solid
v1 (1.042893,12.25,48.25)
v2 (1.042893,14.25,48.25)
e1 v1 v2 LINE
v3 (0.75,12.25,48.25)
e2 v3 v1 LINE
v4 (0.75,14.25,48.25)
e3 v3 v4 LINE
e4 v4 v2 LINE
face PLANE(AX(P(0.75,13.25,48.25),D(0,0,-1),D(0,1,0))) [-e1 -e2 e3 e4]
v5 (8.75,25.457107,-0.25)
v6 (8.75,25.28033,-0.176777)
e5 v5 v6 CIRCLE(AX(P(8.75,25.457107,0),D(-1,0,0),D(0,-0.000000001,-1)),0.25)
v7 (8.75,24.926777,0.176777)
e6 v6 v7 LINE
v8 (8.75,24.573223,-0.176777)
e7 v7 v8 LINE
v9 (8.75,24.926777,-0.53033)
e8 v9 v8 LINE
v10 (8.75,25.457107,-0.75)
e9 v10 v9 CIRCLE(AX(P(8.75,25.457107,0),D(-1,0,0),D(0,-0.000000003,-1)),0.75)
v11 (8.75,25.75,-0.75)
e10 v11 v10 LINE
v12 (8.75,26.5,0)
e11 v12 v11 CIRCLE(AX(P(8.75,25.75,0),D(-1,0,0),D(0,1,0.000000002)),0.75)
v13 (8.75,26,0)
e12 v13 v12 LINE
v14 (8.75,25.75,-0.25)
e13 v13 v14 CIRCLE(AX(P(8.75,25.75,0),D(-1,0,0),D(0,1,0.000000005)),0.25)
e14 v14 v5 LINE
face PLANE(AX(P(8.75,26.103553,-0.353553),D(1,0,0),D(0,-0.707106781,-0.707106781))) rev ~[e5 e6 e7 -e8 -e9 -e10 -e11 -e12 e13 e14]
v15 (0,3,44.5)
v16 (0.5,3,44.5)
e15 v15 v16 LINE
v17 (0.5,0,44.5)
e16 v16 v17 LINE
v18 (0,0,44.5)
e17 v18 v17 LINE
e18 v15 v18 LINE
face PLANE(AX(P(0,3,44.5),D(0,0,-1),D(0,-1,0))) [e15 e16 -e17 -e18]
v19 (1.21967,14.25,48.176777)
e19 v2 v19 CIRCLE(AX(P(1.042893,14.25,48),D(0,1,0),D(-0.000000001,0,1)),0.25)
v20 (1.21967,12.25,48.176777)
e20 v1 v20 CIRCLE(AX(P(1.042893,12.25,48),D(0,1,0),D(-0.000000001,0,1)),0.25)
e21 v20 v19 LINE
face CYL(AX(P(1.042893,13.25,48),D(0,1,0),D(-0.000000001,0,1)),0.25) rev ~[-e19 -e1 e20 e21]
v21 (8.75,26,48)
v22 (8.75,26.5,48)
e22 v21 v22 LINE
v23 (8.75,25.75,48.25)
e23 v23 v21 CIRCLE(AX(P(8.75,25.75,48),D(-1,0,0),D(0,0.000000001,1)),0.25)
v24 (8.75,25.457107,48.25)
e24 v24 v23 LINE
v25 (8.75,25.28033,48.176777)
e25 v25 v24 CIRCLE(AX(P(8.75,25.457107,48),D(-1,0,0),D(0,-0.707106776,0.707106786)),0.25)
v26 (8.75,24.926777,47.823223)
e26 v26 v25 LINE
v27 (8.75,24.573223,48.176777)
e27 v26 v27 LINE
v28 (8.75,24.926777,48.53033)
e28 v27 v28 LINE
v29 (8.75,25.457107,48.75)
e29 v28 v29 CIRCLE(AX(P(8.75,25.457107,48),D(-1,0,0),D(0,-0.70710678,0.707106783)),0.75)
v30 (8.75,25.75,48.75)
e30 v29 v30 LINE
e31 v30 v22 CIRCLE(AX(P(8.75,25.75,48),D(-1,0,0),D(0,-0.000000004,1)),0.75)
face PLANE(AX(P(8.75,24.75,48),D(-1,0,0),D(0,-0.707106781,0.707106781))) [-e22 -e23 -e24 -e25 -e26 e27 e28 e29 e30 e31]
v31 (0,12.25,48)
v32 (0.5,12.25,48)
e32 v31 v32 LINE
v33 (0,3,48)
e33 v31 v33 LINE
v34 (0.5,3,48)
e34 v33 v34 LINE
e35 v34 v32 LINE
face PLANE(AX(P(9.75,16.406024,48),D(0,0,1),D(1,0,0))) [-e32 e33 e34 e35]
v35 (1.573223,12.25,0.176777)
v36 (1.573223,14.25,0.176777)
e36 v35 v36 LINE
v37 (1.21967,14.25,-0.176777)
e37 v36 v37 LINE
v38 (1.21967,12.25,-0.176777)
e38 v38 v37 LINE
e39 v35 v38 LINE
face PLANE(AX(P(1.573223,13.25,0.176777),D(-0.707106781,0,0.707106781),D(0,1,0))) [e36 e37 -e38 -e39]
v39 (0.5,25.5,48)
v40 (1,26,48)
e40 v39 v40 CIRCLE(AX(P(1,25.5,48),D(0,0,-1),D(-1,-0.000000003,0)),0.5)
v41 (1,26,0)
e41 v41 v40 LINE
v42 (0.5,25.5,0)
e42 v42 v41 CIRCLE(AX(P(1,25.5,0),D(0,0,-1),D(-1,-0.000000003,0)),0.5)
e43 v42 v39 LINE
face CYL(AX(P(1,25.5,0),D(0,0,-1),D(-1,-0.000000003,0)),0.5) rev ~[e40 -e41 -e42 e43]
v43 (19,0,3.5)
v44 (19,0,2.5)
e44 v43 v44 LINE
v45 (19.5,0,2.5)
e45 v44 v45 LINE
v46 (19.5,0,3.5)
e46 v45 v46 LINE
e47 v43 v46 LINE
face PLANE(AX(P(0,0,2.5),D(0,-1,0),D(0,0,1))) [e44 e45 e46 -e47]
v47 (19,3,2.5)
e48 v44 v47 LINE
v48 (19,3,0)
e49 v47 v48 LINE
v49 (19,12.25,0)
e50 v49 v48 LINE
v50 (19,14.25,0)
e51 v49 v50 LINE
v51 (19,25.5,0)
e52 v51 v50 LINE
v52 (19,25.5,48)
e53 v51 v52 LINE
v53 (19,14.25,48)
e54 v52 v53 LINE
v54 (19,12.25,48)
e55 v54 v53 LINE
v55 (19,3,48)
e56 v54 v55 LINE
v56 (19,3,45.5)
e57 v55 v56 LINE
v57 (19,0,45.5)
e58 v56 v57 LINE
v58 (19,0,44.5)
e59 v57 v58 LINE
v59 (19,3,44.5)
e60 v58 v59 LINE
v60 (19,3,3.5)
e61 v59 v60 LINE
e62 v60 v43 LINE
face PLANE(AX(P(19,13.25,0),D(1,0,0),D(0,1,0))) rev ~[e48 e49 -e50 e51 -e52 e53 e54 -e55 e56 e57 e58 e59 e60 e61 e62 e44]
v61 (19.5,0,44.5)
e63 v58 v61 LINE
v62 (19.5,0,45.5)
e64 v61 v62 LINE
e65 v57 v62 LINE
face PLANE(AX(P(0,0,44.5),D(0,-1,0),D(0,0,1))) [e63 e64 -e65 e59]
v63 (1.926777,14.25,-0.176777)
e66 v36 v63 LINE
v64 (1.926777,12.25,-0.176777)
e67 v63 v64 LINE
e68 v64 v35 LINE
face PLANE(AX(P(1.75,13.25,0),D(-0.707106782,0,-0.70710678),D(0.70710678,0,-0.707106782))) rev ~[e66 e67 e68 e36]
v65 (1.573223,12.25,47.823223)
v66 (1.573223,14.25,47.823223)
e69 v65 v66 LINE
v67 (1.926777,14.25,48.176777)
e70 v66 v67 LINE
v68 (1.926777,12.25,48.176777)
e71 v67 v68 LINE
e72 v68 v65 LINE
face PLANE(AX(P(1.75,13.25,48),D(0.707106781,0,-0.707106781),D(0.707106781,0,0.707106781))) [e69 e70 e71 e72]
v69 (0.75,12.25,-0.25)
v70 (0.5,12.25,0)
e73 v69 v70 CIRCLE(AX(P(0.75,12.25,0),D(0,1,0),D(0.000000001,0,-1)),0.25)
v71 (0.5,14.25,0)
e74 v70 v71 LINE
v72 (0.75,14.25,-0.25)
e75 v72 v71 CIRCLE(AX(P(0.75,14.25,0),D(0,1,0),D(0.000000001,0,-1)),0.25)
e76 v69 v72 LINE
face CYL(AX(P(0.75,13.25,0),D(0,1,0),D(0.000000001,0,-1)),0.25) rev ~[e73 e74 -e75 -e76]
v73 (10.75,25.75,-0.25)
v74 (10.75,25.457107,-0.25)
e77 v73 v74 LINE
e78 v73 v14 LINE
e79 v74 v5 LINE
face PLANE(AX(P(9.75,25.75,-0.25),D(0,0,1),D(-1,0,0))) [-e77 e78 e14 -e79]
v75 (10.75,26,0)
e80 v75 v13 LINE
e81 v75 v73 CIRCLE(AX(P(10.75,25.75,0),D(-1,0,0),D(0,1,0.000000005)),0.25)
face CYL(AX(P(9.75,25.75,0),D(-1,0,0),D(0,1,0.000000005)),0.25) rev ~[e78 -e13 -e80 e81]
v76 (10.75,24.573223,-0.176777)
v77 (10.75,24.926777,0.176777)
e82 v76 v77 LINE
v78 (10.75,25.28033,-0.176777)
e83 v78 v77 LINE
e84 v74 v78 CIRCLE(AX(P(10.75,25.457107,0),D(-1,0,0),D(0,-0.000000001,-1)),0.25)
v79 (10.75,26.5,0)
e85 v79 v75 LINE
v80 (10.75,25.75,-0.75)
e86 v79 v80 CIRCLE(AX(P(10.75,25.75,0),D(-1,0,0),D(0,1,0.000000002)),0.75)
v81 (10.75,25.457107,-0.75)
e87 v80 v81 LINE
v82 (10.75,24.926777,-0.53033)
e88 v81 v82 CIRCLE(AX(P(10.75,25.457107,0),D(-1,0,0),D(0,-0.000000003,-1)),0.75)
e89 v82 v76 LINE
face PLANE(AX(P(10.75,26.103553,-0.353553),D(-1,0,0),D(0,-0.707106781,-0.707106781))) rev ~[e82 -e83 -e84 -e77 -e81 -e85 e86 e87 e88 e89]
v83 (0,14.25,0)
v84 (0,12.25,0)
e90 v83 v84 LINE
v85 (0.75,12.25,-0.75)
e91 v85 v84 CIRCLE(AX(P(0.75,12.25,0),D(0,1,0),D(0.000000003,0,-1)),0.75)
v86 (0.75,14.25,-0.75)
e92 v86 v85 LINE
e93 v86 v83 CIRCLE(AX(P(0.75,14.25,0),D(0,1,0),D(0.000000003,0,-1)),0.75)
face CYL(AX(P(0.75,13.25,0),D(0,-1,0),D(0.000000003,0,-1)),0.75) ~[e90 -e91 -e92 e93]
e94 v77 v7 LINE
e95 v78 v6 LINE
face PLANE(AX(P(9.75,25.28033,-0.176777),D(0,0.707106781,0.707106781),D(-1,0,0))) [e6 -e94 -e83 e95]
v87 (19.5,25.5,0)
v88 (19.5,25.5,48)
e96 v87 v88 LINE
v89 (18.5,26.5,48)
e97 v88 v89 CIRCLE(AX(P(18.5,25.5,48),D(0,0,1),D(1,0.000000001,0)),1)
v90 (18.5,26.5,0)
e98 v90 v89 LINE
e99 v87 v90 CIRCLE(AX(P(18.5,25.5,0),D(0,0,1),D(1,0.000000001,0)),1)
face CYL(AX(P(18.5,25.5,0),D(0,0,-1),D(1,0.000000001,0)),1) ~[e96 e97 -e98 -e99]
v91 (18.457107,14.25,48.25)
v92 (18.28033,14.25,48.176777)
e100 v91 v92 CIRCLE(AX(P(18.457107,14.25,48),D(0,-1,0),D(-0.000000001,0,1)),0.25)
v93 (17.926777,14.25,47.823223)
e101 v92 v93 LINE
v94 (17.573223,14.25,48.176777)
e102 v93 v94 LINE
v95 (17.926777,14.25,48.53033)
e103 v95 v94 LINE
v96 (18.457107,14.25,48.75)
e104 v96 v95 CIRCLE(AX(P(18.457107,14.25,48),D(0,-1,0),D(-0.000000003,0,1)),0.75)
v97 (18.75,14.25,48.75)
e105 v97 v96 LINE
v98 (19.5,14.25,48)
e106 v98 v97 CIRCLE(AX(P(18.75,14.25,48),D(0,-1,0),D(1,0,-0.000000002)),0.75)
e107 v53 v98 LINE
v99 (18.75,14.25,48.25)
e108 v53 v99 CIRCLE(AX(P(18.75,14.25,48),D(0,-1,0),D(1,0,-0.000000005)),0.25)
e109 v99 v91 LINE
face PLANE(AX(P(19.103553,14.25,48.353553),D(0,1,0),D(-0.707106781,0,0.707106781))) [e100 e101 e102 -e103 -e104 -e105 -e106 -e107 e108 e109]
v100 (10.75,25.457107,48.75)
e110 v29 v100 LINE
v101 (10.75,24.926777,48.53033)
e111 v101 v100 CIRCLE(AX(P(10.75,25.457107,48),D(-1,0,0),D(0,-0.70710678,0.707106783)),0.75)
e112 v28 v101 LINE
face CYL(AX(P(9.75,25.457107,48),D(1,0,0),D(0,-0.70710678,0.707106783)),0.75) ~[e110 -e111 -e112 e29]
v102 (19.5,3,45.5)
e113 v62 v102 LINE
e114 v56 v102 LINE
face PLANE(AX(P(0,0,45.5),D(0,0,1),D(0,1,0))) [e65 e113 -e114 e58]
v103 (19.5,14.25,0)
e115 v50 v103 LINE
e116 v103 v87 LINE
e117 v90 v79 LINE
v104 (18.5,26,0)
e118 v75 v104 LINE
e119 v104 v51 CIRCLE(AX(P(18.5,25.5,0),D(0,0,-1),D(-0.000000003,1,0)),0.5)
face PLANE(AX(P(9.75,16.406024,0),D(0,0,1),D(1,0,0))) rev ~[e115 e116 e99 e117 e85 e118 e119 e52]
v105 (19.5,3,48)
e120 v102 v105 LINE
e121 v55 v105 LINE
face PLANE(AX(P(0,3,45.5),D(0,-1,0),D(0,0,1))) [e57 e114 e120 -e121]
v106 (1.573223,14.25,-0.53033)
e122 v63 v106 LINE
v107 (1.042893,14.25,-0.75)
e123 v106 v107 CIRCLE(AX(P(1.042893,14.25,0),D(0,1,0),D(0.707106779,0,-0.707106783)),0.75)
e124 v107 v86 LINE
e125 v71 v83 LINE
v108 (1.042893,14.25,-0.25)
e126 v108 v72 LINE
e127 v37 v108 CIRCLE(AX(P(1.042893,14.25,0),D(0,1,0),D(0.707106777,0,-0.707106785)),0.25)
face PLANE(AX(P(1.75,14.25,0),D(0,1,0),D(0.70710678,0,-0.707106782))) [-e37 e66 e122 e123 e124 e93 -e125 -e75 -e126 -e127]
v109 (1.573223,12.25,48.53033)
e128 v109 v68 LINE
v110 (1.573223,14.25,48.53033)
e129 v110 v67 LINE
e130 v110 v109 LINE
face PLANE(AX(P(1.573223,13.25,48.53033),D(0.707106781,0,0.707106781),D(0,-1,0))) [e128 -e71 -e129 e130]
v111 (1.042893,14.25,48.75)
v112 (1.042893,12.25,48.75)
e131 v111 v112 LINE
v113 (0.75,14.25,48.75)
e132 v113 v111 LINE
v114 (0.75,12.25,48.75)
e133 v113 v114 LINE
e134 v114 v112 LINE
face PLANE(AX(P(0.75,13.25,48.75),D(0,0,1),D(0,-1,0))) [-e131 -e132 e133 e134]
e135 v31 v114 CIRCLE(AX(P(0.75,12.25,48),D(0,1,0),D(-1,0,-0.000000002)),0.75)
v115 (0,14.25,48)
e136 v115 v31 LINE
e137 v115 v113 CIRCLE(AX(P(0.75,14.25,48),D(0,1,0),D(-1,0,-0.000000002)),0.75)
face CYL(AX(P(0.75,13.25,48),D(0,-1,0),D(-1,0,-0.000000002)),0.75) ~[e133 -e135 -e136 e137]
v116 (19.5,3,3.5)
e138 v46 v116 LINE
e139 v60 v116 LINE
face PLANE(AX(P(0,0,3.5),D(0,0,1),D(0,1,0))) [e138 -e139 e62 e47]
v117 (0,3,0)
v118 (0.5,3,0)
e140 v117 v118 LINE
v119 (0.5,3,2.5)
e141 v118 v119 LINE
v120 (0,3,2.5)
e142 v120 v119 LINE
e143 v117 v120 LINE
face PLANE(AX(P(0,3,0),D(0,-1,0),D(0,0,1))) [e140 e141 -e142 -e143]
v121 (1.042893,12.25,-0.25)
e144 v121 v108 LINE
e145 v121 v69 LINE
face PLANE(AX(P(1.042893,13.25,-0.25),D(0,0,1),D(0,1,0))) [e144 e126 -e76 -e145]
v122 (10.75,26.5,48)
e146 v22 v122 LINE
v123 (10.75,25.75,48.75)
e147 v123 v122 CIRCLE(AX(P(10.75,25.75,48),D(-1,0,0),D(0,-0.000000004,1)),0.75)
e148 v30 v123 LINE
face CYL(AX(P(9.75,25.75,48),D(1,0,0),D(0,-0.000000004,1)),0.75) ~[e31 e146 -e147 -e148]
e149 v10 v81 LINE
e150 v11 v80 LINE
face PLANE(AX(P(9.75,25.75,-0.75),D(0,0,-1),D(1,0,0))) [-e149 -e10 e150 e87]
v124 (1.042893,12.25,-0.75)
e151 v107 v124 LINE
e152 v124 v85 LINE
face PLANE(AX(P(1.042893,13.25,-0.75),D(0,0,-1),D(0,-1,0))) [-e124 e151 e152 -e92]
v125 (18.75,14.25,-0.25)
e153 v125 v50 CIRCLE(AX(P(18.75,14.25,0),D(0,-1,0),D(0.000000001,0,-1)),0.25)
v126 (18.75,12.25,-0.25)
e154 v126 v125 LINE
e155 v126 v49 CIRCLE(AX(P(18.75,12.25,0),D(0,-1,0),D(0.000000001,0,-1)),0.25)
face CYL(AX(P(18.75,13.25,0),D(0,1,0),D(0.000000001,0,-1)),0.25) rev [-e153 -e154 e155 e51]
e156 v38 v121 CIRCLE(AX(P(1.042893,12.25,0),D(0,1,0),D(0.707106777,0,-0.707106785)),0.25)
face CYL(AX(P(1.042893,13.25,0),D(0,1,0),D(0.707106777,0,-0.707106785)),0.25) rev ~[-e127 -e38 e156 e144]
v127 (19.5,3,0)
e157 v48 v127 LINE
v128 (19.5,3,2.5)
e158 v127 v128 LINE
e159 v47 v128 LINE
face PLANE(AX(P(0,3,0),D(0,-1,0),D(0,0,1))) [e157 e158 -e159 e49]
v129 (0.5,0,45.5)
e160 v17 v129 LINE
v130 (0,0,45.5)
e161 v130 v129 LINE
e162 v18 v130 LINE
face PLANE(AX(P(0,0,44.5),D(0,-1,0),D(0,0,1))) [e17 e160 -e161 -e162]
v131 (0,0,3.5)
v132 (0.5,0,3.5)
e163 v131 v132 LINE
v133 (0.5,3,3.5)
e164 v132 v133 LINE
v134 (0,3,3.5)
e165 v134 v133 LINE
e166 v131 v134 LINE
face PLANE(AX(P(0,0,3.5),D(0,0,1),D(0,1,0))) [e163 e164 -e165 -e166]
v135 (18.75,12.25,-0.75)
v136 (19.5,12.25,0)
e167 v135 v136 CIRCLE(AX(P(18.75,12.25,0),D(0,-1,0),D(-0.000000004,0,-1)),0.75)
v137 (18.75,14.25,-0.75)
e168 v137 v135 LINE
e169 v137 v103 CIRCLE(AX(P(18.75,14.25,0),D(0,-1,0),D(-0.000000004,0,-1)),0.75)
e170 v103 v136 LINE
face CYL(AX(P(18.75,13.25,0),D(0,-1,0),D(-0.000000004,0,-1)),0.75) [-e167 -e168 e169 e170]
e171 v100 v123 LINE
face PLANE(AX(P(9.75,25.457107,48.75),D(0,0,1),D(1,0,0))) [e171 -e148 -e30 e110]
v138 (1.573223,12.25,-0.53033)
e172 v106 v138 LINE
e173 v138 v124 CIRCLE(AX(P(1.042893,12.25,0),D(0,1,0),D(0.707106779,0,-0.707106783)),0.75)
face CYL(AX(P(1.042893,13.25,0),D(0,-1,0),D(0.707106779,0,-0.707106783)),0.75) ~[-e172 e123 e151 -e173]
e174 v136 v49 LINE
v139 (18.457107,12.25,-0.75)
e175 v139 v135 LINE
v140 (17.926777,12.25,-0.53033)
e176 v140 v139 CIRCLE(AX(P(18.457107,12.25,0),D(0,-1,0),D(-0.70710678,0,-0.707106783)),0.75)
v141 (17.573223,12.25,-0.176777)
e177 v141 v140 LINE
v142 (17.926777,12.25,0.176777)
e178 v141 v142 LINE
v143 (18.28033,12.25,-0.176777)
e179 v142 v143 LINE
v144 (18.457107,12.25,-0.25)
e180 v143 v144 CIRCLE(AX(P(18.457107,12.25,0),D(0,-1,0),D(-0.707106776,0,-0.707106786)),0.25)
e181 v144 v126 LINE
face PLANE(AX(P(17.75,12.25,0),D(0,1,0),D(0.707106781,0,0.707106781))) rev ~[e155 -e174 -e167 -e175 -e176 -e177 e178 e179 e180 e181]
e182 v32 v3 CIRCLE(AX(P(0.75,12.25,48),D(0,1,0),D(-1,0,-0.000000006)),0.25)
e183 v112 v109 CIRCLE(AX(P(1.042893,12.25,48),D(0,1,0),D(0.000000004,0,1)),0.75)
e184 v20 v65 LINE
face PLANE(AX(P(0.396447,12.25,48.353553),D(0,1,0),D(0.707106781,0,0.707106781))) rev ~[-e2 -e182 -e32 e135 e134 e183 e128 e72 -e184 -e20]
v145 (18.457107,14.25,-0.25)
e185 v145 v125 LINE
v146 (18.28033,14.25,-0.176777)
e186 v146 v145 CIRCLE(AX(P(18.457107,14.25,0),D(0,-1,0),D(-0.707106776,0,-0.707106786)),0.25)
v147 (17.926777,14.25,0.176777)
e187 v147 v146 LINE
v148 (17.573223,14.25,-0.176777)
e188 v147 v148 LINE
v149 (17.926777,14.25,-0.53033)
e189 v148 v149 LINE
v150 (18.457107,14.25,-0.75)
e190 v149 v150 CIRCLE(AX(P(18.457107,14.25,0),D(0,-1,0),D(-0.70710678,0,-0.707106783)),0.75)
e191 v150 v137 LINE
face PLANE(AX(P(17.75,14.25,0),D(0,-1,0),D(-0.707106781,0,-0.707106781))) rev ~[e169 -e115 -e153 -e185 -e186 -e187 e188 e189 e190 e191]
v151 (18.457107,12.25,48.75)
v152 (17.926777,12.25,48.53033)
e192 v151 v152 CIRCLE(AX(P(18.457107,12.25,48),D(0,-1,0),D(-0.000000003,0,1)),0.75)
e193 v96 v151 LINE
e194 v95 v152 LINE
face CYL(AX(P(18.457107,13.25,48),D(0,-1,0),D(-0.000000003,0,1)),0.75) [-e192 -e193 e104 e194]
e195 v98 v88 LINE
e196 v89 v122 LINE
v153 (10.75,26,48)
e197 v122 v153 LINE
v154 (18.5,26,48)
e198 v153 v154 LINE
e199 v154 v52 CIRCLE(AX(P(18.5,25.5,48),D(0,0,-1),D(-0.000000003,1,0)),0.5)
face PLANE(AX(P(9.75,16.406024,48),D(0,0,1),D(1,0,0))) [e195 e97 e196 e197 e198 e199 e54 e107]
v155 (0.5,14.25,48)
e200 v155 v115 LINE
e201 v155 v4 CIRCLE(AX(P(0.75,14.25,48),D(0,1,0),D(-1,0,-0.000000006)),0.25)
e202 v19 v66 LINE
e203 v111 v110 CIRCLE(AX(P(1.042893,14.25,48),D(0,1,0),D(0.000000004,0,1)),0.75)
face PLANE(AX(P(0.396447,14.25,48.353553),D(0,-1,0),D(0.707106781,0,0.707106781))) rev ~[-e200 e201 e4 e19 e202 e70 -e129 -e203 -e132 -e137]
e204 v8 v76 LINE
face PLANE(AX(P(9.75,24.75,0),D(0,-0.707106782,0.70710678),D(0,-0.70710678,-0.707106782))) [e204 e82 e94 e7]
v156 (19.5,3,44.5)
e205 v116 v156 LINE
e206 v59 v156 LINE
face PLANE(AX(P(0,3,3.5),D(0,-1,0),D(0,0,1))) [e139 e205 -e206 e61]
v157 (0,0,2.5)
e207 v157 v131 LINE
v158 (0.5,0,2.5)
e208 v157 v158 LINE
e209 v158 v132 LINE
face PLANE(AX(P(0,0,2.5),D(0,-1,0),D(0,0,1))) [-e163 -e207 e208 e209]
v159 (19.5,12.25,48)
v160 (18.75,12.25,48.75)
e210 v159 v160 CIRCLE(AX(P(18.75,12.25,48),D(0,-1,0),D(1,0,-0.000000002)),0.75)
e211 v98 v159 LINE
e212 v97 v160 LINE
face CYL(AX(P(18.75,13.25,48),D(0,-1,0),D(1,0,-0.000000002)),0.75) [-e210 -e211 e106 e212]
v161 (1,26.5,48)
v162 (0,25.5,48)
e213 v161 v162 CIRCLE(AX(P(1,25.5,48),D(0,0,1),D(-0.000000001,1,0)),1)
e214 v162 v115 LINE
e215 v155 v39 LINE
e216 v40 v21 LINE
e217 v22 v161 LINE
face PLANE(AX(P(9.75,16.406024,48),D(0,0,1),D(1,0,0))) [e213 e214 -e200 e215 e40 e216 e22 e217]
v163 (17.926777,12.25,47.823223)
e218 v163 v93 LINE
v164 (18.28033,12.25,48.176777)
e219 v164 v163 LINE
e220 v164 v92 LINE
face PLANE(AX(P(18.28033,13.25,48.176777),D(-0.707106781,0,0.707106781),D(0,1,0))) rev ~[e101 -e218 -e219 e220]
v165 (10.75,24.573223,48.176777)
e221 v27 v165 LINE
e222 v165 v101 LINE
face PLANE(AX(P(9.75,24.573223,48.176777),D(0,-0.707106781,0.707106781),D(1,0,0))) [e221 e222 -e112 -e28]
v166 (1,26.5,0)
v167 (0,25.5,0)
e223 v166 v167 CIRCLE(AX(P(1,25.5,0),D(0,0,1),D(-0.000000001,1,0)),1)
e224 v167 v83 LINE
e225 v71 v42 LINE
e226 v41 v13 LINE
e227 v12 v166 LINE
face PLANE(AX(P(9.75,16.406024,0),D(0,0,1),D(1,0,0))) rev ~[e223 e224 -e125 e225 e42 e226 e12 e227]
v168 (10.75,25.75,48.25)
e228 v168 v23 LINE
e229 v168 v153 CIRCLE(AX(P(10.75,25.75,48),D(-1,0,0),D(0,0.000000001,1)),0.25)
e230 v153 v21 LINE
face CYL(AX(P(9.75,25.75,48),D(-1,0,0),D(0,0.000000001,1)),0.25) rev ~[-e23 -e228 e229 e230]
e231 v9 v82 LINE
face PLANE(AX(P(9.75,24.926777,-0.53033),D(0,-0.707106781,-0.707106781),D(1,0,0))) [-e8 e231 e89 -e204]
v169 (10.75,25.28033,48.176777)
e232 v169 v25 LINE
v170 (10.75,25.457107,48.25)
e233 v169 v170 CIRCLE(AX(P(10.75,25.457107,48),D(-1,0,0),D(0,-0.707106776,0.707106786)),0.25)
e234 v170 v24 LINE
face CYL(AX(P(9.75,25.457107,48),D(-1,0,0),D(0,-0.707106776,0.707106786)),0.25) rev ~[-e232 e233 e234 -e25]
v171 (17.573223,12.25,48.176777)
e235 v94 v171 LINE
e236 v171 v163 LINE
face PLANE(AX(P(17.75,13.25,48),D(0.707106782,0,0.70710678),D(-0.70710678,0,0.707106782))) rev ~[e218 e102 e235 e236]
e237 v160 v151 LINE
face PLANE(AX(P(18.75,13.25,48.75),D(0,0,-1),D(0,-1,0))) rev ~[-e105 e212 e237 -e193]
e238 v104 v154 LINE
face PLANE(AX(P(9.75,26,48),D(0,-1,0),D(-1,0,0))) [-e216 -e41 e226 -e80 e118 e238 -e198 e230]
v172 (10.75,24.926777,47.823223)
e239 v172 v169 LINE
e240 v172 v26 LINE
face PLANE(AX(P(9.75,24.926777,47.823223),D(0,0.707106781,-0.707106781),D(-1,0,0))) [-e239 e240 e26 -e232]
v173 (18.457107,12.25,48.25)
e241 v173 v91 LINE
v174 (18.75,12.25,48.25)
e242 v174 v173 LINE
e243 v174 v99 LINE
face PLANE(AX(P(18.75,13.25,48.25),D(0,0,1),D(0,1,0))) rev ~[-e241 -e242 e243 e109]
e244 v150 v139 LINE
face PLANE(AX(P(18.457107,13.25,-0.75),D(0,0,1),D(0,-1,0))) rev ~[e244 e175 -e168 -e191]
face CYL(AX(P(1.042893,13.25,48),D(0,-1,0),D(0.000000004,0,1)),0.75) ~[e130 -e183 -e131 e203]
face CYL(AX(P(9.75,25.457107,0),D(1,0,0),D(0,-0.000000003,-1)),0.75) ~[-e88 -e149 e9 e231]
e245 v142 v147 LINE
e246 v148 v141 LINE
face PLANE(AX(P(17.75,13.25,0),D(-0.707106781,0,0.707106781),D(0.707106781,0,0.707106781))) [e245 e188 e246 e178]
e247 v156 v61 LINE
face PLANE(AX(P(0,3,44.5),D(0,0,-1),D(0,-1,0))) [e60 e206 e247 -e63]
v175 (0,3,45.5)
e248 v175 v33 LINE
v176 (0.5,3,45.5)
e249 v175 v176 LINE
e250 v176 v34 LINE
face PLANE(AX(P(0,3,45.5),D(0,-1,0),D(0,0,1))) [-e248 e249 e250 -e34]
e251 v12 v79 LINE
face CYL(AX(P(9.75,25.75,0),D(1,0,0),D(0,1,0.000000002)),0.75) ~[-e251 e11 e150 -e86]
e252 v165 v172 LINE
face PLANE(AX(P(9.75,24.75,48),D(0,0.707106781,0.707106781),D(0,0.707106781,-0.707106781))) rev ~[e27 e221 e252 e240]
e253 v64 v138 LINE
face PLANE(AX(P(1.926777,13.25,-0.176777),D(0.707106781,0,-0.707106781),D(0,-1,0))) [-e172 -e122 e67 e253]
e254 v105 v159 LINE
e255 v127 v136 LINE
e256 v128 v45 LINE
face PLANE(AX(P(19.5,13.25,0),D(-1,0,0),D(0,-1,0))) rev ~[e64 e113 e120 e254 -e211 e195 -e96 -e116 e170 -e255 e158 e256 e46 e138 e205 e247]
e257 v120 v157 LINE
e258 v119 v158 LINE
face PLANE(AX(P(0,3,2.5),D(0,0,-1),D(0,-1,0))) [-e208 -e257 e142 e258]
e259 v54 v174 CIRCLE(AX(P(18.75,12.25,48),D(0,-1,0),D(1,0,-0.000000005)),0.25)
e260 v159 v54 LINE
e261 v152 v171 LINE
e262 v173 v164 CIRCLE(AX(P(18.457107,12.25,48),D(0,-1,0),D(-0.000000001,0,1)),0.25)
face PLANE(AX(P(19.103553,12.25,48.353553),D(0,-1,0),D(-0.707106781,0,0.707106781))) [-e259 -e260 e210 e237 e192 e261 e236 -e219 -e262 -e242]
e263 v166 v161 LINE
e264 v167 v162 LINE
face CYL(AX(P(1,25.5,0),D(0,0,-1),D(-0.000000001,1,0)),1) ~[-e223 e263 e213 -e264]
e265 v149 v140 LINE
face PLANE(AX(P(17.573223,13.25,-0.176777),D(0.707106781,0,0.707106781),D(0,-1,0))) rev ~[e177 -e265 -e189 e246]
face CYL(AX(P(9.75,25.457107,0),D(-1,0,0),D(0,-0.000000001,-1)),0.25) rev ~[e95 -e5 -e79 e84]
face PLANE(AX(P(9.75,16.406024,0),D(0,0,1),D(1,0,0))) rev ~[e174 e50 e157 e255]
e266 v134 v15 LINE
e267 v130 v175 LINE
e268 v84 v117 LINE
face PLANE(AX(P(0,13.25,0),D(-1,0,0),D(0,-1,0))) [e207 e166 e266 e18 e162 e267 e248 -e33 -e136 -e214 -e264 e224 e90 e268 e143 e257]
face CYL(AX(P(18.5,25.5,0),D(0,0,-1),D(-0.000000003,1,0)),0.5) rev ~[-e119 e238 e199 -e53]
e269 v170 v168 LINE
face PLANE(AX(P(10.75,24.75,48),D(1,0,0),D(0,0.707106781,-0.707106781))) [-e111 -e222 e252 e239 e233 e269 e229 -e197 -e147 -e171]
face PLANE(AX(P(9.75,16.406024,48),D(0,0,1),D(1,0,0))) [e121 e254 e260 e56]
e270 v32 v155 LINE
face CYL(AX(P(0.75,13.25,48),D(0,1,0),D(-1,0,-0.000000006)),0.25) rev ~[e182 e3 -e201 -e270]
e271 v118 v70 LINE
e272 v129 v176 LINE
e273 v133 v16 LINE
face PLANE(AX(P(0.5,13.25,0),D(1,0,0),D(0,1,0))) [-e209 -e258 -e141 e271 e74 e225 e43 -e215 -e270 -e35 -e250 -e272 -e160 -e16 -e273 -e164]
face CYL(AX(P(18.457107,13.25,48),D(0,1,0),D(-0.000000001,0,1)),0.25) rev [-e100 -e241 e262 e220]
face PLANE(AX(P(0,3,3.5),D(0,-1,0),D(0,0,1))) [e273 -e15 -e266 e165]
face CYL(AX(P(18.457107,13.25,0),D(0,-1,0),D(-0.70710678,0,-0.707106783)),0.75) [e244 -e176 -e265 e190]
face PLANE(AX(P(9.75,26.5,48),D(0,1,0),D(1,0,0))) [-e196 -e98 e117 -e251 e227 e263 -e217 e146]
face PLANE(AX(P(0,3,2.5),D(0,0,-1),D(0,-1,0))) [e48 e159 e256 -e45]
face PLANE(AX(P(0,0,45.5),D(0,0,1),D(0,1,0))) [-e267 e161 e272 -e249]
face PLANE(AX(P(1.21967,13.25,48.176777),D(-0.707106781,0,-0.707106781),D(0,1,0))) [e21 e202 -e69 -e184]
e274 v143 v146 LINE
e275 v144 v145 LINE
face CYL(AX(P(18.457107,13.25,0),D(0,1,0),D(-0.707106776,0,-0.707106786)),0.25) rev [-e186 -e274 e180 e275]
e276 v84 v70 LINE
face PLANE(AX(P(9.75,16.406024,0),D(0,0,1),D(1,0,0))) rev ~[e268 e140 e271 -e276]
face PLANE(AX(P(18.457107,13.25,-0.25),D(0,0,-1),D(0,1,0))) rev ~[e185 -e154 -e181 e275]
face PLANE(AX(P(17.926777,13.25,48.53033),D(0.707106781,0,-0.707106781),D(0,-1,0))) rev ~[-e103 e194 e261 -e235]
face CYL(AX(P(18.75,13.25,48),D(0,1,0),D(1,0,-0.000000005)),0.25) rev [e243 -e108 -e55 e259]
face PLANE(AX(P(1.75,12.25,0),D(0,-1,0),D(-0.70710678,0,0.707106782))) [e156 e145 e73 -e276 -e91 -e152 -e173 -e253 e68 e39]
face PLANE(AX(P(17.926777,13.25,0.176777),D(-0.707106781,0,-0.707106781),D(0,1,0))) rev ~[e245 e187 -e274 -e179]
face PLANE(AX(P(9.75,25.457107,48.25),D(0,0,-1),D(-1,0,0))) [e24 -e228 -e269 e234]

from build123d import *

# Parameters (mm, degrees)
EXTRUDE_1_DEPTH     = 48
SKETCH_3_W          = 2
SKETCH_3_H          = 3.503465233
EXTRUDE_2_DEPTH     = 0.5
SKETCH_4_W          = 2
SKETCH_4_H          = 3.503465233
EXTRUDE_3_DEPTH     = 0.5
SKETCH_7_W          = 0.5
SKETCH_7_H          = 3.503465233
CUT_EXTRUDE_2_DEPTH = 66.5
SKETCH_10_W         = 2
SKETCH_10_H         = 0.5
CUT_EXTRUDE_3_DEPTH = 66.5
SKETCH_13_W         = 0.5
SKETCH_13_H         = 2
SKETCH_16_W         = 0.5
SKETCH_16_H         = 2


with BuildPart() as part:
    # Эскиз1 → Бобышка-Вытянуть1 (new body)
    with BuildSketch(Plane.XY):
        with BuildLine():
            Line((0.5, 0), (0.5, 25.5))
            ThreePointArc((0.5, 25.5), (0.646446609, 25.853553391), (1, 26))
            Line((1, 26), (18.5, 26))
            ThreePointArc((18.5, 26), (18.853553391, 25.853553391), (19, 25.5))
            Line((19, 25.5), (19, 0))
            Line((19, 0), (19.5, 0))
            Line((19.5, 0), (19.5, 25.5))
            ThreePointArc((19.5, 25.5), (19.207106781, 26.207106781), (18.5, 26.5))
            Line((18.5, 26.5), (1, 26.5))
            ThreePointArc((1, 26.5), (0.292893219, 26.207106781), (0, 25.5))
            Line((0, 25.5), (0, 0))
            Line((0, 0), (0.5, 0))
        make_face()
    extrude(amount=EXTRUDE_1_DEPTH)

    # Эскиз3 → Бобышка-Вытянуть2 (add)
    with BuildSketch(Plane.ZY):
        with Locations((45, -1.751732617)):
            Rectangle(SKETCH_3_W, SKETCH_3_H)
        with Locations((3, -1.751732617)):
            Rectangle(SKETCH_3_W, SKETCH_3_H)
    extrude(amount=-EXTRUDE_2_DEPTH)

    # Эскиз4 → Бобышка-Вытянуть3 (add)
    with BuildSketch(Plane(origin=(19.5, 0, 0), x_dir=(0, 0, -1), z_dir=(1, 0, 0))):
        with Locations((-45, -1.751732617)):
            Rectangle(SKETCH_4_W, SKETCH_4_H)
        with Locations((-3, -1.751732617)):
            Rectangle(SKETCH_4_W, SKETCH_4_H)
    extrude(amount=-EXTRUDE_3_DEPTH)

    # Эскиз7 → Вырез-Вытянуть2 (cut)
    with BuildSketch(Plane.ZY):
        with Locations((45.75, -1.751732617)):
            Rectangle(SKETCH_7_W, SKETCH_7_H)
        with Locations((3.75, -1.751732617)):
            Rectangle(SKETCH_7_W, SKETCH_7_H)
        with Locations((44.25, -1.751732617)):
            Rectangle(SKETCH_7_W, SKETCH_7_H)
        with Locations((2.25, -1.751732617)):
            Rectangle(SKETCH_7_W, SKETCH_7_H)
    extrude(amount=-CUT_EXTRUDE_2_DEPTH, mode=Mode.SUBTRACT)

    # По траектории2: sweep along a path in Эскиз9
    with BuildLine(Plane.ZY) as sweep_2_path:
        Line((48, 24.75), (48.353553391, 25.103553391))
        ThreePointArc((48.353553391, 25.103553391), (48.461939766, 25.265765065), (48.5, 25.457106781))
        Line((48.5, 25.457106781), (48.5, 25.75))
        ThreePointArc((48.5, 25.75), (48.353553391, 26.103553391), (48, 26.25))
        Line((48, 26.25), (0, 26.25))
        ThreePointArc((0, 26.25), (-0.353553391, 26.103553391), (-0.5, 25.75))
        Line((-0.5, 25.75), (-0.5, 25.457106781))
        ThreePointArc((-0.5, 25.457106781), (-0.461939766, 25.265765065), (-0.353553391, 25.103553391))
        Line((-0.353553391, 25.103553391), (0, 24.75))
    # Эскиз10 → По траектории2 (sweep)
    with BuildSketch(Plane(origin=(0, 24.75, 48), x_dir=(1, 0, 0), z_dir=(0, 0.7071067811865477, 0.7071067811865475))):
        with Locations((9.75, 0)):
            Rectangle(SKETCH_10_W, SKETCH_10_H)
    sweep(path=sweep_2_path.line)

    # Эскиз14 → Вырез-Вытянуть3 (cut)
    with BuildSketch(Plane.ZY):
        Polygon((2.5, 0), (3.5, 0), (3.5, 3), (44.5, 3), (44.5, 0), (45.5, 0), (45.5, 3), (48, 3), (48, 0), (46.949999013, 0), (46.949999013, -4.072410454), (1.67699977, -4.072410454), (1.67699977, 0), (0, 0), (0, 3), (2.5, 3), align=None)
    extrude(amount=-CUT_EXTRUDE_3_DEPTH, mode=Mode.SUBTRACT)

    # По траектории3: sweep along a path in Эскиз11
    with BuildLine(Plane(origin=(0, 26.5, 0), x_dir=(1, 0, 0), z_dir=(0, 1, 0))) as sweep_3_path:
        Line((17.75, 0), (18.103553391, 0.353553391))
        ThreePointArc((18.103553391, 0.353553391), (18.265765065, 0.461939766), (18.457106781, 0.5))
        Line((18.457106781, 0.5), (18.75, 0.5))
        ThreePointArc((18.75, 0.5), (19.103553391, 0.353553391), (19.25, 0))
        Line((19.25, 0), (19.25, -48))
        ThreePointArc((19.25, -48), (19.103553391, -48.353553391), (18.75, -48.5))
        Line((18.75, -48.5), (18.457106781, -48.5))
        ThreePointArc((18.457106781, -48.5), (18.265765065, -48.461939766), (18.103553391, -48.353553391))
        Line((18.103553391, -48.353553391), (17.75, -48))
    # Эскиз13 → По траектории3 (sweep)
    with BuildSketch(Plane(origin=(17.75, 26.5, 0), x_dir=(0.7071067811865498, 0, 0.7071067811865454), z_dir=(-0.7071067811865454, 0, 0.7071067811865498))):
        with Locations((0, -13.25)):
            Rectangle(SKETCH_13_W, SKETCH_13_H)
    sweep(path=sweep_3_path.line)

    # По траектории4: sweep along a path in Эскиз15
    with BuildLine(Plane(origin=(0, 26.5, 0), x_dir=(1, 0, 0), z_dir=(0, 1, 0))) as sweep_4_path:
        Line((1.75, 0), (1.396446609, 0.353553391))
        ThreePointArc((1.396446609, 0.353553391), (1.234234935, 0.461939766), (1.042893219, 0.5))
        Line((1.042893219, 0.5), (0.75, 0.5))
        ThreePointArc((0.75, 0.5), (0.396446609, 0.353553391), (0.25, 0))
        Line((0.25, 0), (0.25, -48))
        ThreePointArc((0.25, -48), (0.396446609, -48.353553391), (0.75, -48.5))
        Line((0.75, -48.5), (1.042893219, -48.5))
        ThreePointArc((1.042893219, -48.5), (1.234234935, -48.461939766), (1.396446609, -48.353553391))
        Line((1.396446609, -48.353553391), (1.75, -48))
    # Эскиз16 → По траектории4 (sweep)
    with BuildSketch(Plane(origin=(1.75, 26.5, 48), x_dir=(-0.7071067811865488, 0, -0.7071067811865464), z_dir=(0.7071067811865464, 0, -0.7071067811865488))):
        with Locations((0, -13.25)):
            Rectangle(SKETCH_16_W, SKETCH_16_H)
    sweep(path=sweep_4_path.line)


solid = part.part
